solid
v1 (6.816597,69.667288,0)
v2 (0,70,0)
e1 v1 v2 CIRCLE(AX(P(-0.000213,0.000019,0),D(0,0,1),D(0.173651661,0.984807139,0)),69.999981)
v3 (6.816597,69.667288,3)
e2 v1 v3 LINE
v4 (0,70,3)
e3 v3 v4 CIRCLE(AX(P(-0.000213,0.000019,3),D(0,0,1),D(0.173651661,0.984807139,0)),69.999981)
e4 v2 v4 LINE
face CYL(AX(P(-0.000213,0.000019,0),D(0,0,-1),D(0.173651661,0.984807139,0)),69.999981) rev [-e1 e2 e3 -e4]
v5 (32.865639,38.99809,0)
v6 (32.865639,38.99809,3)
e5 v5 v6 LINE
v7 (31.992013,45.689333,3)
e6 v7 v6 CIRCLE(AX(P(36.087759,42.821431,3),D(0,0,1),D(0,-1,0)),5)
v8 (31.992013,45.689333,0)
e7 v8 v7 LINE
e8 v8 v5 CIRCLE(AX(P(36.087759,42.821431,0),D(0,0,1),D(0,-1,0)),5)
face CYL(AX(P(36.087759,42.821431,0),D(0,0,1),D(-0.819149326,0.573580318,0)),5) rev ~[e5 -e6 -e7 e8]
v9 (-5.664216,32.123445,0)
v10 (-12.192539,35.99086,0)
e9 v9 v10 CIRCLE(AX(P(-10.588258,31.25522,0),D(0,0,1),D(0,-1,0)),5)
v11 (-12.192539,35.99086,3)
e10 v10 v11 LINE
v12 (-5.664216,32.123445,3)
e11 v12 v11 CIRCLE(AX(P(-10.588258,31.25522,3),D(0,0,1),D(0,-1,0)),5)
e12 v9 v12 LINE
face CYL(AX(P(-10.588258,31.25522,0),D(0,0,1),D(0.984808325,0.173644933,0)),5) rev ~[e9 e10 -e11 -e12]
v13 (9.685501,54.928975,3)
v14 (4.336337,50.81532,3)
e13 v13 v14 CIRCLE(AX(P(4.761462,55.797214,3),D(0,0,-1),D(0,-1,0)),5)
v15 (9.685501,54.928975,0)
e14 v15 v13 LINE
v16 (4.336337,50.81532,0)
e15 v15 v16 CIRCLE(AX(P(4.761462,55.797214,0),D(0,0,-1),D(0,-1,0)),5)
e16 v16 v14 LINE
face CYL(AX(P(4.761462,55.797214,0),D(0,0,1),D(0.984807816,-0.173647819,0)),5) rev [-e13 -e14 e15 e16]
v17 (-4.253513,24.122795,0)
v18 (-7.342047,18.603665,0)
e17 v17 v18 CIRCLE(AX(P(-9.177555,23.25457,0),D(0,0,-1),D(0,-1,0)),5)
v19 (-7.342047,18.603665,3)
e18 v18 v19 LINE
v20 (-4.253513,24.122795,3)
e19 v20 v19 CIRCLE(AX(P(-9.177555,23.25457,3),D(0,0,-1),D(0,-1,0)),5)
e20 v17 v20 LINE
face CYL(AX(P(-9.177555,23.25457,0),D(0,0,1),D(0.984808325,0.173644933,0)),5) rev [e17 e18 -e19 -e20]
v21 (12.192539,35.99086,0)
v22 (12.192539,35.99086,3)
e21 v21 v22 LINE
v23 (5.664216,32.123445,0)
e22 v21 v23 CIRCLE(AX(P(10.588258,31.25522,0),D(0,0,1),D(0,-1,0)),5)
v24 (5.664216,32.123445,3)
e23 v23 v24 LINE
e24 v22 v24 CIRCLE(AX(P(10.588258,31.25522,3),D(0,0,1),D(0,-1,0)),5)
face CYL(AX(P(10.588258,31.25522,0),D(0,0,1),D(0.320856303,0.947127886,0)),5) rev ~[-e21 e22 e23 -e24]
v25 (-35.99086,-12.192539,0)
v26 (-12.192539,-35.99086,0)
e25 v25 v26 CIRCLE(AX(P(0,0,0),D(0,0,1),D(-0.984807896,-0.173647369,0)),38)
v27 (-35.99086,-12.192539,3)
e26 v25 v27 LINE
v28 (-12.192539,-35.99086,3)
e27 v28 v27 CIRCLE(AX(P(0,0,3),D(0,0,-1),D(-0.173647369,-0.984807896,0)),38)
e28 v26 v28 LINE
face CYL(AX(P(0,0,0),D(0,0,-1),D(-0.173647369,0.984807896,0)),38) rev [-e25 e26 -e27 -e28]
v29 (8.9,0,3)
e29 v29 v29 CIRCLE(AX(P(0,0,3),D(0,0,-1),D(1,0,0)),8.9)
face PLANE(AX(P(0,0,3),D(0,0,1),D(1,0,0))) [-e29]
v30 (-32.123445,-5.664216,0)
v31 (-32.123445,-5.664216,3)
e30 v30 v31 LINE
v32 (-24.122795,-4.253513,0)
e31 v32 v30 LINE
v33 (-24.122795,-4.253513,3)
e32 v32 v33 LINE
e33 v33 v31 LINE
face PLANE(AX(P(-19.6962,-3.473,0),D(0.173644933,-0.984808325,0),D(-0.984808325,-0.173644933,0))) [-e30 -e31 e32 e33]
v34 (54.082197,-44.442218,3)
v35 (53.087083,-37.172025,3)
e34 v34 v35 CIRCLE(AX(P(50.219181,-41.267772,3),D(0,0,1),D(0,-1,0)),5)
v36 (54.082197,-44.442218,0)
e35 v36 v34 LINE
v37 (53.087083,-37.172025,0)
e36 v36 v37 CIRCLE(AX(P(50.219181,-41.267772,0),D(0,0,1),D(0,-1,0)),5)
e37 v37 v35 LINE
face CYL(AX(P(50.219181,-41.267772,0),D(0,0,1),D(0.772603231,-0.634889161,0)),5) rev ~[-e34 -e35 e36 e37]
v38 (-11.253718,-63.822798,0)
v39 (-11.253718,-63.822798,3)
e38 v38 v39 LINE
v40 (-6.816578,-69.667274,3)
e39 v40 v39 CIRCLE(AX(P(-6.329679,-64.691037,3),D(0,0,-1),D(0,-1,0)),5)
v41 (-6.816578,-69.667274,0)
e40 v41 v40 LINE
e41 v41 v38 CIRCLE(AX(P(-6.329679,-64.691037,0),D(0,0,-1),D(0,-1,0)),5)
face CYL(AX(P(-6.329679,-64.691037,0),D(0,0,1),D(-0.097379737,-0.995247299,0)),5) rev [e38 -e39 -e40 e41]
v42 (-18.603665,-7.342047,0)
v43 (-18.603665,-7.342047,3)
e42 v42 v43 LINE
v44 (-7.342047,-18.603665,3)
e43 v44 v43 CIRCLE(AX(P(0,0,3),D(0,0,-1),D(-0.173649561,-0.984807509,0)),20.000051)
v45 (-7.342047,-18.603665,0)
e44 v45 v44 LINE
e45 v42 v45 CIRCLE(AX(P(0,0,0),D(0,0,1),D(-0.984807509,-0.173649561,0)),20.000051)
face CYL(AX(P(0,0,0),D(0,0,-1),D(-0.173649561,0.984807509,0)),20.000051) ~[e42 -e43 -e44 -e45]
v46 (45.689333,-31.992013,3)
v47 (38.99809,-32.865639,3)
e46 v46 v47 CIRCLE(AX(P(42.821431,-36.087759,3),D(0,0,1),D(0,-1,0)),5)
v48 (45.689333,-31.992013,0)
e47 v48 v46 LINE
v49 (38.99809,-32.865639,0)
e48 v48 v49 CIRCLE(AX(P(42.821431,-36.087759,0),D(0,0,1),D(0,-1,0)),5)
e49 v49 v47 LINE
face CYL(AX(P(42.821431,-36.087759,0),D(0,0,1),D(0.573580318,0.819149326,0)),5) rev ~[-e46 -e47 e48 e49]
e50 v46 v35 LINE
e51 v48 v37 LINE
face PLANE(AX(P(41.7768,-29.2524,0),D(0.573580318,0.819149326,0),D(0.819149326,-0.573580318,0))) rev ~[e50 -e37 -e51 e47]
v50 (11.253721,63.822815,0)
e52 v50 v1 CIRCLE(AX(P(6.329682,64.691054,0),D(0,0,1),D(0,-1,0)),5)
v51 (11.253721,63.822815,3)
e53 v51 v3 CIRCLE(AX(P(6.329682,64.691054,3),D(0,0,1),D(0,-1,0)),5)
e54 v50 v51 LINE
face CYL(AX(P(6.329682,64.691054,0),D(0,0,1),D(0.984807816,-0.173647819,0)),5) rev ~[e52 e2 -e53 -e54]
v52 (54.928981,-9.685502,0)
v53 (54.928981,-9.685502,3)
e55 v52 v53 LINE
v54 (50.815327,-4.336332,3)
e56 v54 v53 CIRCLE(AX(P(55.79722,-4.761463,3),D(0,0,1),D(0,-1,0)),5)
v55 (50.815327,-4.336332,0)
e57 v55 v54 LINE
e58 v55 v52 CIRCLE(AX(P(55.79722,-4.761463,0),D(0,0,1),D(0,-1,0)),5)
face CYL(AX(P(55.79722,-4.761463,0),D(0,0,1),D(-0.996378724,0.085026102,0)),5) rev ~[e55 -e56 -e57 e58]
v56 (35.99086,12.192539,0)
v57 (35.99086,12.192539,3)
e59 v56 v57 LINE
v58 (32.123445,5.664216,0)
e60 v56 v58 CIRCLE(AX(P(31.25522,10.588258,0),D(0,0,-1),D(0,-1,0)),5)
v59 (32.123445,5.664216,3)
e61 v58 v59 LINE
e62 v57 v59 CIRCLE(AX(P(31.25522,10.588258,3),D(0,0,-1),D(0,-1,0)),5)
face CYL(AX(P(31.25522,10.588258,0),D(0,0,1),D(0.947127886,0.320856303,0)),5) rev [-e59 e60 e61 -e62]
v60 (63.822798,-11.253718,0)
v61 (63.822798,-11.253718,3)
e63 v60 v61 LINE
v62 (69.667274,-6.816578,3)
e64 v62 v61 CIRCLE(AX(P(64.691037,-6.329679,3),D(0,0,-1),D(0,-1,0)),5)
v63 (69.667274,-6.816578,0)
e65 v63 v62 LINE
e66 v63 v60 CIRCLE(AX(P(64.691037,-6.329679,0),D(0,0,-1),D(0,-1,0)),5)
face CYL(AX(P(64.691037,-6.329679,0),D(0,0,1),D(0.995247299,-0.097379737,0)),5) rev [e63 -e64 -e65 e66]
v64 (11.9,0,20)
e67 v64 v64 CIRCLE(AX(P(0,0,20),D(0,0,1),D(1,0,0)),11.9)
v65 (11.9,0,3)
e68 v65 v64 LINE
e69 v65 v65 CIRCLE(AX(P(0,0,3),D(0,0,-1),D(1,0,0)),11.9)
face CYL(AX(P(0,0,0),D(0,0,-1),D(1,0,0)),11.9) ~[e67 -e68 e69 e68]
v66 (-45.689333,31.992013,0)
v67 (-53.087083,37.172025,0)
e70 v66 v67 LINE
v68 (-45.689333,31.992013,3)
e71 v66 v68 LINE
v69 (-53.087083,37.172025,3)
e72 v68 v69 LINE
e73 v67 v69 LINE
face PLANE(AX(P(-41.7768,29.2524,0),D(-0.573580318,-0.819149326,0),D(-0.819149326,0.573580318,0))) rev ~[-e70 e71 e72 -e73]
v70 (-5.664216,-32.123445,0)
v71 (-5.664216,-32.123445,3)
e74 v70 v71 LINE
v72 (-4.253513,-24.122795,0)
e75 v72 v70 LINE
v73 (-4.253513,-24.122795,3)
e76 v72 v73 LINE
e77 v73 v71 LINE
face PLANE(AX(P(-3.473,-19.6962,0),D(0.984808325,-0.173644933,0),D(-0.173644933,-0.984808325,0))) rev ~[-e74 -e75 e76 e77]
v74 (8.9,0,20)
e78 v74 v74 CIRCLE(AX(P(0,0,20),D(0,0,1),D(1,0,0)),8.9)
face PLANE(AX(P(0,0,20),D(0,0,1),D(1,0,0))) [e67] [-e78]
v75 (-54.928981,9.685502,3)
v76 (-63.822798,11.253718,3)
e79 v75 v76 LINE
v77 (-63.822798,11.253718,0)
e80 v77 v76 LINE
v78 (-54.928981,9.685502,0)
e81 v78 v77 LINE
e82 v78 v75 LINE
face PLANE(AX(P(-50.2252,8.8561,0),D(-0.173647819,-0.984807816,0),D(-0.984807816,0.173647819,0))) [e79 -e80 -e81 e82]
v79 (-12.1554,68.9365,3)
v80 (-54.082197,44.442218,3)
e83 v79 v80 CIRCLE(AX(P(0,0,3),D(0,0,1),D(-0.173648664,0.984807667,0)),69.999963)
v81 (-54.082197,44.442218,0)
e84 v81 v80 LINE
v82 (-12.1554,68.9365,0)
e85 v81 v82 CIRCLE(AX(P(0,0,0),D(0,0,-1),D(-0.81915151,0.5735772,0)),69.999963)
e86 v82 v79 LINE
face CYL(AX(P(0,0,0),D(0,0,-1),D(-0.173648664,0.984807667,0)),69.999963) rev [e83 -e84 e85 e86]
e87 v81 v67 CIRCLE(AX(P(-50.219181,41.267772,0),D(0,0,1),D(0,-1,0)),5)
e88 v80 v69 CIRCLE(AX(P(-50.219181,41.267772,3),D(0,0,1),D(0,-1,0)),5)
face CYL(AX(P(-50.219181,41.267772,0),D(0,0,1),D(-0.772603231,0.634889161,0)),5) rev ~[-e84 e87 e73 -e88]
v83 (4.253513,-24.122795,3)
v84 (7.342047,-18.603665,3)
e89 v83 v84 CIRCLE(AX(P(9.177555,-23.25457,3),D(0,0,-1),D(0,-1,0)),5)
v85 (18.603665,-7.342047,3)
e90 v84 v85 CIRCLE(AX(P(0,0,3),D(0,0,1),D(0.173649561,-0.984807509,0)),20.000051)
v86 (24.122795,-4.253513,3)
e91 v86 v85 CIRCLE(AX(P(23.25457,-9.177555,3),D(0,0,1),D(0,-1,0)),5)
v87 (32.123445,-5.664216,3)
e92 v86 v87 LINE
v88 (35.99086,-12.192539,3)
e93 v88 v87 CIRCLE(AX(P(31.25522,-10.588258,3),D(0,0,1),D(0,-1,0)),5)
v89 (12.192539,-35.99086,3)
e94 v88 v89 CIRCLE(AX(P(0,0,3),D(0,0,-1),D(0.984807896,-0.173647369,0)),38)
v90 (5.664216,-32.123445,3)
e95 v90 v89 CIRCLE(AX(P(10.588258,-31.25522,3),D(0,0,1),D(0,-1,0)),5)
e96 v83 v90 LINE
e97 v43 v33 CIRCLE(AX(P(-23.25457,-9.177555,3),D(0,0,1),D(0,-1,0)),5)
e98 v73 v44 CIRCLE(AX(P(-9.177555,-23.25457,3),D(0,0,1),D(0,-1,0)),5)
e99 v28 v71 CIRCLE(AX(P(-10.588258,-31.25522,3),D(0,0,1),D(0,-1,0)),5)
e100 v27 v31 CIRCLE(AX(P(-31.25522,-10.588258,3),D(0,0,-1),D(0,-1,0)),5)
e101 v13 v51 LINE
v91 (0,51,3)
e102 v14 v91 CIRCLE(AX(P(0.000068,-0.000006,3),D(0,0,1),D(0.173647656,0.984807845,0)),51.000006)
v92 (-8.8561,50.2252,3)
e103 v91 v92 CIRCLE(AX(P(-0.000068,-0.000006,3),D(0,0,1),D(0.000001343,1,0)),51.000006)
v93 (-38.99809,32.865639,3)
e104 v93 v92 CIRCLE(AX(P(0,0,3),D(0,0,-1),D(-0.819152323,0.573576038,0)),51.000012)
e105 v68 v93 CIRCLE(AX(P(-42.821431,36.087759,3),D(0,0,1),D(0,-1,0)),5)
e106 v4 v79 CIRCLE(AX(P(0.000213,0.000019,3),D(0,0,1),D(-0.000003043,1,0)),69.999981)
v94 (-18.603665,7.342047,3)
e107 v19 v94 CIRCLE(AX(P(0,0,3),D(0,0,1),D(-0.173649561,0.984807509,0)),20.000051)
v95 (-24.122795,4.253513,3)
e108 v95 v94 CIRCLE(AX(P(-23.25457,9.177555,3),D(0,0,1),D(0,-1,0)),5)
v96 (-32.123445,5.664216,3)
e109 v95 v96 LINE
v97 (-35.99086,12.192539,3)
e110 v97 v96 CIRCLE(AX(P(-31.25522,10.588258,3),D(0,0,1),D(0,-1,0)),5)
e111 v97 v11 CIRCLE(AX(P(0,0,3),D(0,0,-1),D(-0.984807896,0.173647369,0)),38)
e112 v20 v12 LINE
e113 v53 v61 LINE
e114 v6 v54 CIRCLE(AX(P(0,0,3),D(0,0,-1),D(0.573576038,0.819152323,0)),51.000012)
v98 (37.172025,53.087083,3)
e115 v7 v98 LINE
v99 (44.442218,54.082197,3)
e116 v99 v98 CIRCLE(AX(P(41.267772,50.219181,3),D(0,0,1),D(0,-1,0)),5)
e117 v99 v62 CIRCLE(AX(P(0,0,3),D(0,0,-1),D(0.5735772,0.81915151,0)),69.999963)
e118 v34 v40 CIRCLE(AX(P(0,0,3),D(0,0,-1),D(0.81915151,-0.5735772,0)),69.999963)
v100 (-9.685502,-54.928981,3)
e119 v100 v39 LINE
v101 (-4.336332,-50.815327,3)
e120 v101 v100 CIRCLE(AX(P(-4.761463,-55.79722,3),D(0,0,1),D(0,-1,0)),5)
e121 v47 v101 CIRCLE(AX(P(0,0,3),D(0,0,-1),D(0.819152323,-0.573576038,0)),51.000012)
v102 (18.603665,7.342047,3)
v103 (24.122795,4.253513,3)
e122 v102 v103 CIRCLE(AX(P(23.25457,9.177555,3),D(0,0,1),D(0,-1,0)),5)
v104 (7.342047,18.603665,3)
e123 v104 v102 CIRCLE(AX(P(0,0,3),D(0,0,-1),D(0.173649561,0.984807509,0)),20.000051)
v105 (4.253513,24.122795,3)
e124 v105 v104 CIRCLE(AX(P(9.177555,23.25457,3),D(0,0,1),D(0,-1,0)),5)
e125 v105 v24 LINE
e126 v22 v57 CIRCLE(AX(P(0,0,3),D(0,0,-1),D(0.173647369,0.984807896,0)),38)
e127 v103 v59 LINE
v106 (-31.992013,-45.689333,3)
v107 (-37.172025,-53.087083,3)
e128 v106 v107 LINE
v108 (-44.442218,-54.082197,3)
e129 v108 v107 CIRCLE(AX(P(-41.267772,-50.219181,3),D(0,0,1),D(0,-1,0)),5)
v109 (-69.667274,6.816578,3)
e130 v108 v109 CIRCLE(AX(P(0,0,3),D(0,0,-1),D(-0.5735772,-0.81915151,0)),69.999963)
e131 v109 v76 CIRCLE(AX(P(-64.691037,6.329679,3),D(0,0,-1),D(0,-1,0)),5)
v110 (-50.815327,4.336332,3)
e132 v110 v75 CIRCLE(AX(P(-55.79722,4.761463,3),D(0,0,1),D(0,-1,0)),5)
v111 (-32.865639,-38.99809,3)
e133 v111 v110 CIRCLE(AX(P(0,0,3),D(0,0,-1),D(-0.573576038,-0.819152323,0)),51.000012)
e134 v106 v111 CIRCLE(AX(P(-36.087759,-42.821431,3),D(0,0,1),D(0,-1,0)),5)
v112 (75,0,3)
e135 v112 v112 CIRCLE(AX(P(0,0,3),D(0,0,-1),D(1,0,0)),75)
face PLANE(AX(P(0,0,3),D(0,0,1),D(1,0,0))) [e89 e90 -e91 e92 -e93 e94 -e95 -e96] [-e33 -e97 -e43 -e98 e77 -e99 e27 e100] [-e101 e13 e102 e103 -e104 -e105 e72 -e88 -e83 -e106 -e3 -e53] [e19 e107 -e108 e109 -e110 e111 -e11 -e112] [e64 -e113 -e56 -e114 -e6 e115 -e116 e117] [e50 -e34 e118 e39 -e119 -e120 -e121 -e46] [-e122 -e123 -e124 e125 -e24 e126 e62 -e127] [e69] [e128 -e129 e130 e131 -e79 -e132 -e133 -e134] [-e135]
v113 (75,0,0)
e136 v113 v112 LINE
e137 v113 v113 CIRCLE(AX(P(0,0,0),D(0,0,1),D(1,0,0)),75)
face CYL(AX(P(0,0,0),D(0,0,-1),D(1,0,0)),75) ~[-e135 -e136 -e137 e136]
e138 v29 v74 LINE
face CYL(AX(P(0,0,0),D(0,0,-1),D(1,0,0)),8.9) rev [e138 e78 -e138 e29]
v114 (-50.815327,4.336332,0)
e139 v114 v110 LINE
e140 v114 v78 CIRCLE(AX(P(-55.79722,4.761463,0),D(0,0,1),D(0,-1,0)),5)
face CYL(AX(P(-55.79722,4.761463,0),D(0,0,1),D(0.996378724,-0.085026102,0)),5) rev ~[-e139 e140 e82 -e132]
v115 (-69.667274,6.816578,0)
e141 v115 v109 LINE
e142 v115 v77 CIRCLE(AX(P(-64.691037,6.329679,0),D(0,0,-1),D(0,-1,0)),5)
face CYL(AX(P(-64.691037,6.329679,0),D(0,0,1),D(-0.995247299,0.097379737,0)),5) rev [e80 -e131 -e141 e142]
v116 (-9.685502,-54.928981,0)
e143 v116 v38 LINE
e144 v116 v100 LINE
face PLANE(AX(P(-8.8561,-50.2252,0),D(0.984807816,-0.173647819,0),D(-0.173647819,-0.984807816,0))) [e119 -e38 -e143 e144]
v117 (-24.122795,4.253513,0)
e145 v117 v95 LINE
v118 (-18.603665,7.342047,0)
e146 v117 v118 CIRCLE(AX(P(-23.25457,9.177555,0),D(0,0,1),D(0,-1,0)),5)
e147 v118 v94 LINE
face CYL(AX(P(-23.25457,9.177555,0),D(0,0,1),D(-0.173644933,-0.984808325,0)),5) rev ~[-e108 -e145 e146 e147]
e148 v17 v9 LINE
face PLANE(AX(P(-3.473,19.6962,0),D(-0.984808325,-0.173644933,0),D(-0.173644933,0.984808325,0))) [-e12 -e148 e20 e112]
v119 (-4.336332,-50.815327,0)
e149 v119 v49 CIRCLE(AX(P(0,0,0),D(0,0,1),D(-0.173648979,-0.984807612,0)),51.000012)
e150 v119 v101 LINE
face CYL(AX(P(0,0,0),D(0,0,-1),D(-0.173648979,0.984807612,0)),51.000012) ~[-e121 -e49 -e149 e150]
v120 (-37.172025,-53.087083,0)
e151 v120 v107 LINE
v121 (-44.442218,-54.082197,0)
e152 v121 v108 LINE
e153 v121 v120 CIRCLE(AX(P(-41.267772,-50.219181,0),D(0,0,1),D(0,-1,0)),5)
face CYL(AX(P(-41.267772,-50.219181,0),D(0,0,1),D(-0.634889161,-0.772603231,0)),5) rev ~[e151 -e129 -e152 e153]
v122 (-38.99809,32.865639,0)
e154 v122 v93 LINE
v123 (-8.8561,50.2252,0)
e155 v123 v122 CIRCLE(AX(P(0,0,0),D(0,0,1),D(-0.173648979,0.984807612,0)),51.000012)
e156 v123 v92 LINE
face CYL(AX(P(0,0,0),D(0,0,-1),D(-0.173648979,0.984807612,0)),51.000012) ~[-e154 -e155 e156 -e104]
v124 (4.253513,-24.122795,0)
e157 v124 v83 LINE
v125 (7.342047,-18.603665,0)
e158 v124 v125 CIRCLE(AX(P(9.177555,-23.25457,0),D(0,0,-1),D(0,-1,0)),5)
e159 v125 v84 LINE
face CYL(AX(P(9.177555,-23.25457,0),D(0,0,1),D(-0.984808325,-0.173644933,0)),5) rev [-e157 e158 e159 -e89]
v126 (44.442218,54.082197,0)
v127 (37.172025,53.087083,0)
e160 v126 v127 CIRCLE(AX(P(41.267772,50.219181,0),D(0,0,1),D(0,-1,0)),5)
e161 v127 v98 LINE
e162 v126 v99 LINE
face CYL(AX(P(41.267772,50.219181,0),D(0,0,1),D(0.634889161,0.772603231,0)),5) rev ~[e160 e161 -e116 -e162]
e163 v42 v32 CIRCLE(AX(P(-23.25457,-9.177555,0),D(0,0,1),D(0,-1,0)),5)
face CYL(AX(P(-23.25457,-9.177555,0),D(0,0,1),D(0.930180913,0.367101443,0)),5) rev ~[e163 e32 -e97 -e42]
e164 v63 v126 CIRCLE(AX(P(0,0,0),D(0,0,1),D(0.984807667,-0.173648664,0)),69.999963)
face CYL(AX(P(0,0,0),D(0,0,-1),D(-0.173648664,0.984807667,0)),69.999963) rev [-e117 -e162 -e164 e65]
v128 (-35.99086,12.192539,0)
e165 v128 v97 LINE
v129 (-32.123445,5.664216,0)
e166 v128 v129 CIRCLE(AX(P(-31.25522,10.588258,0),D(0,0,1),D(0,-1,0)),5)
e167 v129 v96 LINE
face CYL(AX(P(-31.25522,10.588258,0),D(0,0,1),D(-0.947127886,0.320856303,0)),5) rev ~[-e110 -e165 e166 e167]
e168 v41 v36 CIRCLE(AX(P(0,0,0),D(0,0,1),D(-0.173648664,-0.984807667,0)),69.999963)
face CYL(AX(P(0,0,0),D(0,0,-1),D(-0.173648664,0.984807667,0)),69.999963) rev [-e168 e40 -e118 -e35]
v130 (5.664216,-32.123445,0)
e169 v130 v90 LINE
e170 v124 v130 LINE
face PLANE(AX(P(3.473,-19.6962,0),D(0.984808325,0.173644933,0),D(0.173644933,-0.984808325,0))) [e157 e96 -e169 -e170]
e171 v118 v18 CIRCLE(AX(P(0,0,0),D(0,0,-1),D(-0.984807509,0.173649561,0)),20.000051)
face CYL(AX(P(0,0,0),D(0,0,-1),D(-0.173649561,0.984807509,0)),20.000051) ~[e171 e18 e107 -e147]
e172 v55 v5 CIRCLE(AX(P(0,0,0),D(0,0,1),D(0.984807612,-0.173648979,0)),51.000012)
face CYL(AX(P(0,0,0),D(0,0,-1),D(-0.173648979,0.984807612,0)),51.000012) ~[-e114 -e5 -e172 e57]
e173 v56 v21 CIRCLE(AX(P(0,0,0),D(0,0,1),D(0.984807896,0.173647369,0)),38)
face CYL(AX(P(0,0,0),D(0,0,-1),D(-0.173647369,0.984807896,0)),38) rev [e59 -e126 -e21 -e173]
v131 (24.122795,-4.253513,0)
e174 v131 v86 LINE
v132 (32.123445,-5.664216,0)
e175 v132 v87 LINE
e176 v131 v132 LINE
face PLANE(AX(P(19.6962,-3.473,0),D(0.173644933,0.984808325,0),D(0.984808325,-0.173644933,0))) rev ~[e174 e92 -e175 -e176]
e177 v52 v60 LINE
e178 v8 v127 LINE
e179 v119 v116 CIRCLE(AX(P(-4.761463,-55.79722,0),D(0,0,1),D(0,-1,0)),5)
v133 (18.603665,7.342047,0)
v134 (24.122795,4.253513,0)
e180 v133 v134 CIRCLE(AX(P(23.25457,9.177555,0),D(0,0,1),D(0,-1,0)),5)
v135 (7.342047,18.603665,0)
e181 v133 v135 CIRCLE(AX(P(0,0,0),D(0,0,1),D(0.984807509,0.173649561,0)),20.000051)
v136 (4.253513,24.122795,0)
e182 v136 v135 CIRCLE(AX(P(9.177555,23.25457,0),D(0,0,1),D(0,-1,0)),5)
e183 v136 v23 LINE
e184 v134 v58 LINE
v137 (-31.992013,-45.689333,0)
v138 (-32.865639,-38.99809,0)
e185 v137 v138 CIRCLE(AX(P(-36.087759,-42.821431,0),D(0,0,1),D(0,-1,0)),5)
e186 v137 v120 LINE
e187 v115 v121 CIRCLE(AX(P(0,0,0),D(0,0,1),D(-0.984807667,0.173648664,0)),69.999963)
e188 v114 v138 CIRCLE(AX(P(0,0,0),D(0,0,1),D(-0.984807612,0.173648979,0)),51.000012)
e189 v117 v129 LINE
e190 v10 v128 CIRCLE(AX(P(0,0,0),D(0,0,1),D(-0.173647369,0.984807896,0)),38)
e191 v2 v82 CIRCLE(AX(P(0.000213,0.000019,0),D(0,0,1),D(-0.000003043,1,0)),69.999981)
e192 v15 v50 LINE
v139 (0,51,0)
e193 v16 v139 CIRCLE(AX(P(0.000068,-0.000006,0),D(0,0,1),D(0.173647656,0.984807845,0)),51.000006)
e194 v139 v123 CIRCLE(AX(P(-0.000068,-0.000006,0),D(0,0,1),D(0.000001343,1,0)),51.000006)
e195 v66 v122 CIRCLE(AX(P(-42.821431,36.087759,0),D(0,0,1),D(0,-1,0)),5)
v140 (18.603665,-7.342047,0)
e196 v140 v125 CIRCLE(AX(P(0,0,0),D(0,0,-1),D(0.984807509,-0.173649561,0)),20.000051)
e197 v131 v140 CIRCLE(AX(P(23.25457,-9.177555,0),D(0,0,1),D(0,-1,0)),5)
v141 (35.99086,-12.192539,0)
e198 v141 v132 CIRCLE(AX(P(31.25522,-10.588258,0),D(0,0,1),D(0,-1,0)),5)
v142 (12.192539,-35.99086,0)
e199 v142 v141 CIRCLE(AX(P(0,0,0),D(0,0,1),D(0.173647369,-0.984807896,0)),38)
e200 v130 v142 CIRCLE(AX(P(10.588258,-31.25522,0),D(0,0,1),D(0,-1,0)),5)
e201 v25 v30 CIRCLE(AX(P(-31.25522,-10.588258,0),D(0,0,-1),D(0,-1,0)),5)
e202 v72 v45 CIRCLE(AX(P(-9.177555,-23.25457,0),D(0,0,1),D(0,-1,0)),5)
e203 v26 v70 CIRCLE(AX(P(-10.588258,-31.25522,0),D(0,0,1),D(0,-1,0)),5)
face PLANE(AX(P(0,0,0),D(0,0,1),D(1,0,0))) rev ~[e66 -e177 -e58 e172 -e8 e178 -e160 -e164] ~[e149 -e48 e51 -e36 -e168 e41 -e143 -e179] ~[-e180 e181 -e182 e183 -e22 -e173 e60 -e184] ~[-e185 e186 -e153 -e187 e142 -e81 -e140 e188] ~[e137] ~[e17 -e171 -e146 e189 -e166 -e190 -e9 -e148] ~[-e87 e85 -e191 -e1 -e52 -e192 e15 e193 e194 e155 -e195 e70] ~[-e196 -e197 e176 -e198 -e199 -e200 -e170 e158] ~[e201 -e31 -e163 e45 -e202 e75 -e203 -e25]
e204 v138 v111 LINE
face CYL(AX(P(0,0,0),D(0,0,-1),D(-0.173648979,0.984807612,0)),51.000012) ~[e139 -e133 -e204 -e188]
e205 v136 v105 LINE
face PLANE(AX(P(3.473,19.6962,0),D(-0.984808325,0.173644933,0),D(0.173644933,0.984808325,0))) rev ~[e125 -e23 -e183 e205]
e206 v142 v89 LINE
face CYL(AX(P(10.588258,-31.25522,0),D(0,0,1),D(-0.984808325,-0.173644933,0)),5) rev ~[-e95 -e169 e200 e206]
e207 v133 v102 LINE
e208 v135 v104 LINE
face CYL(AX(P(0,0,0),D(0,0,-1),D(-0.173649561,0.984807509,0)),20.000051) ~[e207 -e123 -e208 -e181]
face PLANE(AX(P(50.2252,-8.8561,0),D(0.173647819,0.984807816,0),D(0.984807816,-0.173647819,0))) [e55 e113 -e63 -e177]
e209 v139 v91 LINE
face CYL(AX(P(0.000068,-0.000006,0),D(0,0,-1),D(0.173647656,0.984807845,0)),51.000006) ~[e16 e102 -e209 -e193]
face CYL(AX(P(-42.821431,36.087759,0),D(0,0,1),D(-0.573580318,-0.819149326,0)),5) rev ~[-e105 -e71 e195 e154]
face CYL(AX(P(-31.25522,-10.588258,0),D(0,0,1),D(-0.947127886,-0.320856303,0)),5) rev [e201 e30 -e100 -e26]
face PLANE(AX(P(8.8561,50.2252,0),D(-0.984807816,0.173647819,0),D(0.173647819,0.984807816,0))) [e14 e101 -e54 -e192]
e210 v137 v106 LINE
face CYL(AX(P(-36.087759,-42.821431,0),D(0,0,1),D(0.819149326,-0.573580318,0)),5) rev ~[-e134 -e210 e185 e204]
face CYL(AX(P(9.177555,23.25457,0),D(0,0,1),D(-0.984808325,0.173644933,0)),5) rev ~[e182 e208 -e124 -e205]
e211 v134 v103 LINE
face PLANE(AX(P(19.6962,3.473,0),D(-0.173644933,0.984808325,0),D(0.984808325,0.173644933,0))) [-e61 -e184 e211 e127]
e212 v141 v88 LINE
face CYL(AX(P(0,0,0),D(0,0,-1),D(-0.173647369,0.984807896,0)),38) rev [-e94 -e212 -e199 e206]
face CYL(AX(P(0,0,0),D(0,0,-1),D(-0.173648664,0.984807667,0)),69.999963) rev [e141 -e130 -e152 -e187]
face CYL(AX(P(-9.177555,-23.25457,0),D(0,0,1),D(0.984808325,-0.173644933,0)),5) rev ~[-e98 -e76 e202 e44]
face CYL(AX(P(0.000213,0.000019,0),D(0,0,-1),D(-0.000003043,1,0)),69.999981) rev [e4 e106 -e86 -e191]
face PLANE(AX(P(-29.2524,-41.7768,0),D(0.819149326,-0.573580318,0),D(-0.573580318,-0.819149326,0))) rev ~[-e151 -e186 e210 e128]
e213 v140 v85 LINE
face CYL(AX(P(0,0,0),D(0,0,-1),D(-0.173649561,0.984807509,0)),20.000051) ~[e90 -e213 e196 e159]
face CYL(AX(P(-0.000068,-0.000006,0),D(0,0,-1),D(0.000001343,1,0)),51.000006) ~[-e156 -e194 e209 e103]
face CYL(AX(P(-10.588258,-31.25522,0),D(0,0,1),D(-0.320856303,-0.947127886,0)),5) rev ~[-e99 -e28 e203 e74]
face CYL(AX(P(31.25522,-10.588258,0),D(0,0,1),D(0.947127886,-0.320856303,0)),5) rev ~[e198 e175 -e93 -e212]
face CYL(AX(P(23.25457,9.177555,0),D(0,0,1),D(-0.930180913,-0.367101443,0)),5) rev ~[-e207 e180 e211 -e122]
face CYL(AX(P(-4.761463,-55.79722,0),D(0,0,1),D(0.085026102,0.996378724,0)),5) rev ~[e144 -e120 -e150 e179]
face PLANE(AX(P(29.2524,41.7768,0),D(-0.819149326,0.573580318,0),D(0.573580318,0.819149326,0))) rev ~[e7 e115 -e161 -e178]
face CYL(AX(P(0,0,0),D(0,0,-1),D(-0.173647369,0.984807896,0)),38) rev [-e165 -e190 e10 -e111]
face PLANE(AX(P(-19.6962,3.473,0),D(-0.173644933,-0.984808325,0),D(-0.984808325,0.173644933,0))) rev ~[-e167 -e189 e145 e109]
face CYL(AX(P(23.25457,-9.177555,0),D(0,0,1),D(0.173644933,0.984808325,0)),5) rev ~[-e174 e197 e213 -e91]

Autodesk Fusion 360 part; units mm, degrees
sketch "Sketch1" plane through (0, 0, 0) normal (0, 0, 1) x (1, 0, 0)
  circle A0 centre (0, 0) radius 75
  circle A1 centre (0, 0) radius 46
  circle A2 centre (0, 0) radius 43
  circle A3 centre (0, 0) radius 11.9
  circle A4 centre (0, 0) radius 8.9
  line L0 (0, 90) -> (0, -90)
  line L1 (12.1554, 68.9365) -> (13.0236, 73.8606)
  line L2 (8.8561, 50.2252) -> (12.1554, 68.9365)
  line L3 (-12.1554, 68.9365) -> (-13.0236, 73.8606)
  line L4 (-8.8561, 50.2252) -> (-12.1554, 68.9365)
  arc A5 (-8.8561, 50.2252) -> (8.8561, 50.2252) centre (0, 0) ccw
  arc A6 (0, 51) -> (-8.8561, 50.2252) centre (0, 0) ccw
  arc A7 (8.8561, 50.2252) -> (0, 51) centre (0, 0) ccw
  arc A8 (-12.1554, 68.9365) -> (12.1554, 68.9365) centre (0, 0) ccw
  arc A9 (12.1554, 68.9365) -> (0, 70) centre (0, 0) ccw
  arc A10 (0, 70) -> (-12.1554, 68.9365) centre (0, 0) ccw
  arc A11 (-6.5986, 37.4227) -> (6.5986, 37.4227) centre (0, 0) ccw
  arc A12 (6.5986, 37.4227) -> (0, 38) centre (0, 0) ccw
  arc A13 (0, 38) -> (-6.5986, 37.4227) centre (0, 0) ccw
  line L5 (0, 0) -> (3.473, 19.6962)
  line L6 (6.5986, 37.4227) -> (8.8561, 50.2252)
  line L7 (3.473, 19.6962) -> (6.5986, 37.4227)
  line L8 (0, 0) -> (-3.473, 19.6962)
  line L9 (-6.5986, 37.4227) -> (-8.8561, 50.2252)
  line L10 (-3.473, 19.6962) -> (-6.5986, 37.4227)
  arc A14 (-3.473, 19.6962) -> (3.473, 19.6962) centre (0, 0) ccw
  arc A15 (0, 20) -> (-3.473, 19.6962) centre (0, 0) ccw
  arc A16 (3.473, 19.6962) -> (0, 20) centre (0, 0) ccw
  arc A17 (-40.1504, 57.3406) -> (-49.4975, 49.4975) centre (0, 0) ccw
  arc A18 (-49.4975, 49.4975) -> (-57.3406, 40.1504) centre (0, 0) ccw
  line L11 (-29.2524, 41.7768) -> (-40.1504, 57.3406)
  arc A19 (-29.2524, 41.7768) -> (-36.0624, 36.0624) centre (0, 0) ccw
  arc A20 (-36.0624, 36.0624) -> (-41.7768, 29.2524) centre (0, 0) ccw
  line L12 (-41.7768, 29.2524) -> (-57.3406, 40.1504)
  arc A21 (-21.7959, 31.1278) -> (-26.8701, 26.8701) centre (0, 0) ccw
  line L13 (-11.4715, 16.383) -> (-21.7959, 31.1278)
  arc A22 (-11.4715, 16.383) -> (-14.1421, 14.1421) centre (0, 0) ccw
  arc A23 (-14.1421, 14.1421) -> (-16.383, 11.4715) centre (0, 0) ccw
  line L14 (-16.383, 11.4715) -> (-31.1278, 21.7959)
  arc A24 (-26.8701, 26.8701) -> (-31.1278, 21.7959) centre (0, 0) ccw
  arc A25 (-68.9365, 12.1554) -> (-70, 0) centre (0, 0) ccw
  arc A26 (-70, 0) -> (-68.9365, -12.1554) centre (0, 0) ccw
  line L15 (-50.2252, 8.8561) -> (-68.9365, 12.1554)
  arc A27 (-50.2252, 8.8561) -> (-51, 0) centre (0, 0) ccw
  arc A28 (-51, 0) -> (-50.2252, -8.8561) centre (0, 0) ccw
  line L16 (-50.2252, -8.8561) -> (-68.9365, -12.1554)
  arc A29 (-37.4227, 6.5986) -> (-38, 0) centre (0, 0) ccw
  line L17 (-19.6962, 3.473) -> (-37.4227, 6.5986)
  arc A30 (-19.6962, 3.473) -> (-20, 0) centre (0, 0) ccw
  arc A31 (-20, 0) -> (-19.6962, -3.473) centre (0, 0) ccw
  line L18 (-19.6962, -3.473) -> (-37.4227, -6.5986)
  arc A32 (-38, 0) -> (-37.4227, -6.5986) centre (0, 0) ccw
  arc A33 (-57.3406, -40.1504) -> (-49.4975, -49.4975) centre (0, 0) ccw
  arc A34 (-49.4975, -49.4975) -> (-40.1504, -57.3406) centre (0, 0) ccw
  line L19 (-41.7768, -29.2524) -> (-57.3406, -40.1504)
  arc A35 (-41.7768, -29.2524) -> (-36.0624, -36.0624) centre (0, 0) ccw
  arc A36 (-36.0624, -36.0624) -> (-29.2524, -41.7768) centre (0, 0) ccw
  line L20 (-29.2524, -41.7768) -> (-40.1504, -57.3406)
  arc A37 (-31.1278, -21.7959) -> (-26.8701, -26.8701) centre (0, 0) ccw
  line L21 (-16.383, -11.4715) -> (-31.1278, -21.7959)
  arc A38 (-16.383, -11.4715) -> (-14.1421, -14.1421) centre (0, 0) ccw
  arc A39 (-14.1421, -14.1421) -> (-11.4715, -16.383) centre (0, 0) ccw
  line L22 (-11.4715, -16.383) -> (-21.7959, -31.1278)
  arc A40 (-26.8701, -26.8701) -> (-21.7959, -31.1278) centre (0, 0) ccw
  arc A41 (-12.1554, -68.9365) -> (0, -70) centre (0, 0) ccw
  arc A42 (0, -70) -> (12.1554, -68.9365) centre (0, 0) ccw
  line L23 (-8.8561, -50.2252) -> (-12.1554, -68.9365)
  arc A43 (-8.8561, -50.2252) -> (0, -51) centre (0, 0) ccw
  arc A44 (0, -51) -> (8.8561, -50.2252) centre (0, 0) ccw
  line L24 (8.8561, -50.2252) -> (12.1554, -68.9365)
  arc A45 (-6.5986, -37.4227) -> (0, -38) centre (0, 0) ccw
  line L25 (-3.473, -19.6962) -> (-6.5986, -37.4227)
  arc A46 (-3.473, -19.6962) -> (0, -20) centre (0, 0) ccw
  arc A47 (0, -20) -> (3.473, -19.6962) centre (0, 0) ccw
  line L26 (3.473, -19.6962) -> (6.5986, -37.4227)
  arc A48 (0, -38) -> (6.5986, -37.4227) centre (0, 0) ccw
  arc A49 (40.1504, -57.3406) -> (49.4975, -49.4975) centre (0, 0) ccw
  arc A50 (49.4975, -49.4975) -> (57.3406, -40.1504) centre (0, 0) ccw
  line L27 (29.2524, -41.7768) -> (40.1504, -57.3406)
  arc A51 (29.2524, -41.7768) -> (36.0624, -36.0624) centre (0, 0) ccw
  arc A52 (36.0624, -36.0624) -> (41.7768, -29.2524) centre (0, 0) ccw
  line L28 (41.7768, -29.2524) -> (57.3406, -40.1504)
  arc A53 (21.7959, -31.1278) -> (26.8701, -26.8701) centre (0, 0) ccw
  line L29 (11.4715, -16.383) -> (21.7959, -31.1278)
  arc A54 (11.4715, -16.383) -> (14.1421, -14.1421) centre (0, 0) ccw
  arc A55 (14.1421, -14.1421) -> (16.383, -11.4715) centre (0, 0) ccw
  line L30 (16.383, -11.4715) -> (31.1278, -21.7959)
  arc A56 (26.8701, -26.8701) -> (31.1278, -21.7959) centre (0, 0) ccw
  arc A57 (68.9365, -12.1554) -> (70, 0) centre (0, 0) ccw
  arc A58 (70, 0) -> (68.9365, 12.1554) centre (0, 0) ccw
  line L31 (50.2252, -8.8561) -> (68.9365, -12.1554)
  arc A59 (50.2252, -8.8561) -> (51, 0) centre (0, 0) ccw
  arc A60 (51, 0) -> (50.2252, 8.8561) centre (0, 0) ccw
  line L32 (50.2252, 8.8561) -> (68.9365, 12.1554)
  arc A61 (37.4227, -6.5986) -> (38, 0) centre (0, 0) ccw
  line L33 (19.6962, -3.473) -> (37.4227, -6.5986)
  arc A62 (19.6962, -3.473) -> (20, 0) centre (0, 0) ccw
  arc A63 (20, 0) -> (19.6962, 3.473) centre (0, 0) ccw
  line L34 (19.6962, 3.473) -> (37.4227, 6.5986)
  arc A64 (38, 0) -> (37.4227, 6.5986) centre (0, 0) ccw
  arc A65 (57.3406, 40.1504) -> (49.4975, 49.4975) centre (0, 0) ccw
  arc A66 (49.4975, 49.4975) -> (40.1504, 57.3406) centre (0, 0) ccw
  line L35 (41.7768, 29.2524) -> (57.3406, 40.1504)
  arc A67 (41.7768, 29.2524) -> (36.0624, 36.0624) centre (0, 0) ccw
  arc A68 (36.0624, 36.0624) -> (29.2524, 41.7768) centre (0, 0) ccw
  line L36 (29.2524, 41.7768) -> (40.1504, 57.3406)
  arc A69 (31.1278, 21.7959) -> (26.8701, 26.8701) centre (0, 0) ccw
  line L37 (16.383, 11.4715) -> (31.1278, 21.7959)
  arc A70 (16.383, 11.4715) -> (14.1421, 14.1421) centre (0, 0) ccw
  arc A71 (14.1421, 14.1421) -> (11.4715, 16.383) centre (0, 0) ccw
  line L38 (11.4715, 16.383) -> (21.7959, 31.1278)
  arc A72 (26.8701, 26.8701) -> (21.7959, 31.1278) centre (0, 0) ccw
  dimension "d1" = 150
  dimension "d2" = -29
  dimension "d3" = -3
  dimension "d12" = 23.8
  dimension "d13" = -3
  dimension "d20" = 10
  dimension "d21" = 20
  dimension "d23" = 360
extrude "Extrude1" add sketch "Sketch1" along normal blind 3
extrude "Extrude3" add sketch "Sketch1" along normal blind 20 contours A3 A4 L0 L5 | A3 A4 L0 L5 | A3 A4 L0 L8 | A3 A4 L0 L8
extrude "Extrude4" cut sketch "Sketch1" along normal up to surface (3 mm away) contours L0 L2 A7 A9 | L0 A5 A8 A41 L23 A43 | L0 A5 A8 A42 A44 L24 | L0 L4 A6 A10 | A5 A8 A65 A66 L35 A67 A68 L36 | L4 A5 A8 L11 | A5 A8 L24 L27 | A5 A8 A17 A18 L11 A19 A20 L12 | A5 A8 A33 A34 L19 A35 A36 L20 | A5 A8 A49 A50 L27 A51 A52 L28 | A5 A8 L32 L35 | A5 A8 A57 A58 L31 A59 A60 L32 | A5 A8 L16 L19 | A5 A8 A25 A26 L15 A27 A28 L16
fillet "Fillet5" radius 5 16 edges at (-68.9365, 12.1554, 1.5) (-50.2252, 8.8561, 1.5) (-40.1504, -57.3406, 1.5) (-29.2524, -41.7768, 1.5) (-12.1554, -68.9365, 1.5) (-8.8561, -50.2252, 1.5) (57.3406, -40.1504, 1.5) (41.7768, -29.2524, 1.5) (68.9365, -12.1554, 1.5) (50.2252, -8.8561, 1.5) (40.1504, 57.3406, 1.5) (29.2524, 41.7768, 1.5) (8.8561, 50.2252, 1.5) (12.1554, 68.9365, 1.5) (-57.3406, 40.1504, 1.5) (-41.7768, 29.2524, 1.5)
extrude "Extrude5" cut sketch "Sketch1" along normal up to surface (3 mm away) contours A11 L7 A14 L38 | A11 A14 A69 L37 A70 A71 L38 A72 | A11 L10 A14 L13 | A11 A14 L22 L25 | A11 A14 L26 L29 | A11 A14 A21 L13 A22 A23 L14 A24 | A11 A14 A37 L21 A38 A39 L22 A40 | A11 A14 A53 L29 A54 A55 L30 A56 | A11 A14 L34 L37 | A11 A14 L14 L17 | A11 A14 L18 L21 | A11 A14 L30 L33
fillet "Fillet6" radius 5 16 edges at (-6.5986, 37.4227, 1.5) (-3.473, 19.6962, 1.5) (-37.4227, 6.5986, 1.5) (-19.6962, 3.473, 1.5) (-37.4227, -6.5986, 1.5) (-19.6962, -3.473, 1.5) (-6.5986, -37.4227, 1.5) (-3.473, -19.6962, 1.5) (6.5986, -37.4227, 1.5) (3.473, -19.6962, 1.5) (19.6962, -3.473, 1.5) (37.4227, -6.5986, 1.5) (37.4227, 6.5986, 1.5) (19.6962, 3.473, 1.5) (6.5986, 37.4227, 1.5) (3.473, 19.6962, 1.5)
